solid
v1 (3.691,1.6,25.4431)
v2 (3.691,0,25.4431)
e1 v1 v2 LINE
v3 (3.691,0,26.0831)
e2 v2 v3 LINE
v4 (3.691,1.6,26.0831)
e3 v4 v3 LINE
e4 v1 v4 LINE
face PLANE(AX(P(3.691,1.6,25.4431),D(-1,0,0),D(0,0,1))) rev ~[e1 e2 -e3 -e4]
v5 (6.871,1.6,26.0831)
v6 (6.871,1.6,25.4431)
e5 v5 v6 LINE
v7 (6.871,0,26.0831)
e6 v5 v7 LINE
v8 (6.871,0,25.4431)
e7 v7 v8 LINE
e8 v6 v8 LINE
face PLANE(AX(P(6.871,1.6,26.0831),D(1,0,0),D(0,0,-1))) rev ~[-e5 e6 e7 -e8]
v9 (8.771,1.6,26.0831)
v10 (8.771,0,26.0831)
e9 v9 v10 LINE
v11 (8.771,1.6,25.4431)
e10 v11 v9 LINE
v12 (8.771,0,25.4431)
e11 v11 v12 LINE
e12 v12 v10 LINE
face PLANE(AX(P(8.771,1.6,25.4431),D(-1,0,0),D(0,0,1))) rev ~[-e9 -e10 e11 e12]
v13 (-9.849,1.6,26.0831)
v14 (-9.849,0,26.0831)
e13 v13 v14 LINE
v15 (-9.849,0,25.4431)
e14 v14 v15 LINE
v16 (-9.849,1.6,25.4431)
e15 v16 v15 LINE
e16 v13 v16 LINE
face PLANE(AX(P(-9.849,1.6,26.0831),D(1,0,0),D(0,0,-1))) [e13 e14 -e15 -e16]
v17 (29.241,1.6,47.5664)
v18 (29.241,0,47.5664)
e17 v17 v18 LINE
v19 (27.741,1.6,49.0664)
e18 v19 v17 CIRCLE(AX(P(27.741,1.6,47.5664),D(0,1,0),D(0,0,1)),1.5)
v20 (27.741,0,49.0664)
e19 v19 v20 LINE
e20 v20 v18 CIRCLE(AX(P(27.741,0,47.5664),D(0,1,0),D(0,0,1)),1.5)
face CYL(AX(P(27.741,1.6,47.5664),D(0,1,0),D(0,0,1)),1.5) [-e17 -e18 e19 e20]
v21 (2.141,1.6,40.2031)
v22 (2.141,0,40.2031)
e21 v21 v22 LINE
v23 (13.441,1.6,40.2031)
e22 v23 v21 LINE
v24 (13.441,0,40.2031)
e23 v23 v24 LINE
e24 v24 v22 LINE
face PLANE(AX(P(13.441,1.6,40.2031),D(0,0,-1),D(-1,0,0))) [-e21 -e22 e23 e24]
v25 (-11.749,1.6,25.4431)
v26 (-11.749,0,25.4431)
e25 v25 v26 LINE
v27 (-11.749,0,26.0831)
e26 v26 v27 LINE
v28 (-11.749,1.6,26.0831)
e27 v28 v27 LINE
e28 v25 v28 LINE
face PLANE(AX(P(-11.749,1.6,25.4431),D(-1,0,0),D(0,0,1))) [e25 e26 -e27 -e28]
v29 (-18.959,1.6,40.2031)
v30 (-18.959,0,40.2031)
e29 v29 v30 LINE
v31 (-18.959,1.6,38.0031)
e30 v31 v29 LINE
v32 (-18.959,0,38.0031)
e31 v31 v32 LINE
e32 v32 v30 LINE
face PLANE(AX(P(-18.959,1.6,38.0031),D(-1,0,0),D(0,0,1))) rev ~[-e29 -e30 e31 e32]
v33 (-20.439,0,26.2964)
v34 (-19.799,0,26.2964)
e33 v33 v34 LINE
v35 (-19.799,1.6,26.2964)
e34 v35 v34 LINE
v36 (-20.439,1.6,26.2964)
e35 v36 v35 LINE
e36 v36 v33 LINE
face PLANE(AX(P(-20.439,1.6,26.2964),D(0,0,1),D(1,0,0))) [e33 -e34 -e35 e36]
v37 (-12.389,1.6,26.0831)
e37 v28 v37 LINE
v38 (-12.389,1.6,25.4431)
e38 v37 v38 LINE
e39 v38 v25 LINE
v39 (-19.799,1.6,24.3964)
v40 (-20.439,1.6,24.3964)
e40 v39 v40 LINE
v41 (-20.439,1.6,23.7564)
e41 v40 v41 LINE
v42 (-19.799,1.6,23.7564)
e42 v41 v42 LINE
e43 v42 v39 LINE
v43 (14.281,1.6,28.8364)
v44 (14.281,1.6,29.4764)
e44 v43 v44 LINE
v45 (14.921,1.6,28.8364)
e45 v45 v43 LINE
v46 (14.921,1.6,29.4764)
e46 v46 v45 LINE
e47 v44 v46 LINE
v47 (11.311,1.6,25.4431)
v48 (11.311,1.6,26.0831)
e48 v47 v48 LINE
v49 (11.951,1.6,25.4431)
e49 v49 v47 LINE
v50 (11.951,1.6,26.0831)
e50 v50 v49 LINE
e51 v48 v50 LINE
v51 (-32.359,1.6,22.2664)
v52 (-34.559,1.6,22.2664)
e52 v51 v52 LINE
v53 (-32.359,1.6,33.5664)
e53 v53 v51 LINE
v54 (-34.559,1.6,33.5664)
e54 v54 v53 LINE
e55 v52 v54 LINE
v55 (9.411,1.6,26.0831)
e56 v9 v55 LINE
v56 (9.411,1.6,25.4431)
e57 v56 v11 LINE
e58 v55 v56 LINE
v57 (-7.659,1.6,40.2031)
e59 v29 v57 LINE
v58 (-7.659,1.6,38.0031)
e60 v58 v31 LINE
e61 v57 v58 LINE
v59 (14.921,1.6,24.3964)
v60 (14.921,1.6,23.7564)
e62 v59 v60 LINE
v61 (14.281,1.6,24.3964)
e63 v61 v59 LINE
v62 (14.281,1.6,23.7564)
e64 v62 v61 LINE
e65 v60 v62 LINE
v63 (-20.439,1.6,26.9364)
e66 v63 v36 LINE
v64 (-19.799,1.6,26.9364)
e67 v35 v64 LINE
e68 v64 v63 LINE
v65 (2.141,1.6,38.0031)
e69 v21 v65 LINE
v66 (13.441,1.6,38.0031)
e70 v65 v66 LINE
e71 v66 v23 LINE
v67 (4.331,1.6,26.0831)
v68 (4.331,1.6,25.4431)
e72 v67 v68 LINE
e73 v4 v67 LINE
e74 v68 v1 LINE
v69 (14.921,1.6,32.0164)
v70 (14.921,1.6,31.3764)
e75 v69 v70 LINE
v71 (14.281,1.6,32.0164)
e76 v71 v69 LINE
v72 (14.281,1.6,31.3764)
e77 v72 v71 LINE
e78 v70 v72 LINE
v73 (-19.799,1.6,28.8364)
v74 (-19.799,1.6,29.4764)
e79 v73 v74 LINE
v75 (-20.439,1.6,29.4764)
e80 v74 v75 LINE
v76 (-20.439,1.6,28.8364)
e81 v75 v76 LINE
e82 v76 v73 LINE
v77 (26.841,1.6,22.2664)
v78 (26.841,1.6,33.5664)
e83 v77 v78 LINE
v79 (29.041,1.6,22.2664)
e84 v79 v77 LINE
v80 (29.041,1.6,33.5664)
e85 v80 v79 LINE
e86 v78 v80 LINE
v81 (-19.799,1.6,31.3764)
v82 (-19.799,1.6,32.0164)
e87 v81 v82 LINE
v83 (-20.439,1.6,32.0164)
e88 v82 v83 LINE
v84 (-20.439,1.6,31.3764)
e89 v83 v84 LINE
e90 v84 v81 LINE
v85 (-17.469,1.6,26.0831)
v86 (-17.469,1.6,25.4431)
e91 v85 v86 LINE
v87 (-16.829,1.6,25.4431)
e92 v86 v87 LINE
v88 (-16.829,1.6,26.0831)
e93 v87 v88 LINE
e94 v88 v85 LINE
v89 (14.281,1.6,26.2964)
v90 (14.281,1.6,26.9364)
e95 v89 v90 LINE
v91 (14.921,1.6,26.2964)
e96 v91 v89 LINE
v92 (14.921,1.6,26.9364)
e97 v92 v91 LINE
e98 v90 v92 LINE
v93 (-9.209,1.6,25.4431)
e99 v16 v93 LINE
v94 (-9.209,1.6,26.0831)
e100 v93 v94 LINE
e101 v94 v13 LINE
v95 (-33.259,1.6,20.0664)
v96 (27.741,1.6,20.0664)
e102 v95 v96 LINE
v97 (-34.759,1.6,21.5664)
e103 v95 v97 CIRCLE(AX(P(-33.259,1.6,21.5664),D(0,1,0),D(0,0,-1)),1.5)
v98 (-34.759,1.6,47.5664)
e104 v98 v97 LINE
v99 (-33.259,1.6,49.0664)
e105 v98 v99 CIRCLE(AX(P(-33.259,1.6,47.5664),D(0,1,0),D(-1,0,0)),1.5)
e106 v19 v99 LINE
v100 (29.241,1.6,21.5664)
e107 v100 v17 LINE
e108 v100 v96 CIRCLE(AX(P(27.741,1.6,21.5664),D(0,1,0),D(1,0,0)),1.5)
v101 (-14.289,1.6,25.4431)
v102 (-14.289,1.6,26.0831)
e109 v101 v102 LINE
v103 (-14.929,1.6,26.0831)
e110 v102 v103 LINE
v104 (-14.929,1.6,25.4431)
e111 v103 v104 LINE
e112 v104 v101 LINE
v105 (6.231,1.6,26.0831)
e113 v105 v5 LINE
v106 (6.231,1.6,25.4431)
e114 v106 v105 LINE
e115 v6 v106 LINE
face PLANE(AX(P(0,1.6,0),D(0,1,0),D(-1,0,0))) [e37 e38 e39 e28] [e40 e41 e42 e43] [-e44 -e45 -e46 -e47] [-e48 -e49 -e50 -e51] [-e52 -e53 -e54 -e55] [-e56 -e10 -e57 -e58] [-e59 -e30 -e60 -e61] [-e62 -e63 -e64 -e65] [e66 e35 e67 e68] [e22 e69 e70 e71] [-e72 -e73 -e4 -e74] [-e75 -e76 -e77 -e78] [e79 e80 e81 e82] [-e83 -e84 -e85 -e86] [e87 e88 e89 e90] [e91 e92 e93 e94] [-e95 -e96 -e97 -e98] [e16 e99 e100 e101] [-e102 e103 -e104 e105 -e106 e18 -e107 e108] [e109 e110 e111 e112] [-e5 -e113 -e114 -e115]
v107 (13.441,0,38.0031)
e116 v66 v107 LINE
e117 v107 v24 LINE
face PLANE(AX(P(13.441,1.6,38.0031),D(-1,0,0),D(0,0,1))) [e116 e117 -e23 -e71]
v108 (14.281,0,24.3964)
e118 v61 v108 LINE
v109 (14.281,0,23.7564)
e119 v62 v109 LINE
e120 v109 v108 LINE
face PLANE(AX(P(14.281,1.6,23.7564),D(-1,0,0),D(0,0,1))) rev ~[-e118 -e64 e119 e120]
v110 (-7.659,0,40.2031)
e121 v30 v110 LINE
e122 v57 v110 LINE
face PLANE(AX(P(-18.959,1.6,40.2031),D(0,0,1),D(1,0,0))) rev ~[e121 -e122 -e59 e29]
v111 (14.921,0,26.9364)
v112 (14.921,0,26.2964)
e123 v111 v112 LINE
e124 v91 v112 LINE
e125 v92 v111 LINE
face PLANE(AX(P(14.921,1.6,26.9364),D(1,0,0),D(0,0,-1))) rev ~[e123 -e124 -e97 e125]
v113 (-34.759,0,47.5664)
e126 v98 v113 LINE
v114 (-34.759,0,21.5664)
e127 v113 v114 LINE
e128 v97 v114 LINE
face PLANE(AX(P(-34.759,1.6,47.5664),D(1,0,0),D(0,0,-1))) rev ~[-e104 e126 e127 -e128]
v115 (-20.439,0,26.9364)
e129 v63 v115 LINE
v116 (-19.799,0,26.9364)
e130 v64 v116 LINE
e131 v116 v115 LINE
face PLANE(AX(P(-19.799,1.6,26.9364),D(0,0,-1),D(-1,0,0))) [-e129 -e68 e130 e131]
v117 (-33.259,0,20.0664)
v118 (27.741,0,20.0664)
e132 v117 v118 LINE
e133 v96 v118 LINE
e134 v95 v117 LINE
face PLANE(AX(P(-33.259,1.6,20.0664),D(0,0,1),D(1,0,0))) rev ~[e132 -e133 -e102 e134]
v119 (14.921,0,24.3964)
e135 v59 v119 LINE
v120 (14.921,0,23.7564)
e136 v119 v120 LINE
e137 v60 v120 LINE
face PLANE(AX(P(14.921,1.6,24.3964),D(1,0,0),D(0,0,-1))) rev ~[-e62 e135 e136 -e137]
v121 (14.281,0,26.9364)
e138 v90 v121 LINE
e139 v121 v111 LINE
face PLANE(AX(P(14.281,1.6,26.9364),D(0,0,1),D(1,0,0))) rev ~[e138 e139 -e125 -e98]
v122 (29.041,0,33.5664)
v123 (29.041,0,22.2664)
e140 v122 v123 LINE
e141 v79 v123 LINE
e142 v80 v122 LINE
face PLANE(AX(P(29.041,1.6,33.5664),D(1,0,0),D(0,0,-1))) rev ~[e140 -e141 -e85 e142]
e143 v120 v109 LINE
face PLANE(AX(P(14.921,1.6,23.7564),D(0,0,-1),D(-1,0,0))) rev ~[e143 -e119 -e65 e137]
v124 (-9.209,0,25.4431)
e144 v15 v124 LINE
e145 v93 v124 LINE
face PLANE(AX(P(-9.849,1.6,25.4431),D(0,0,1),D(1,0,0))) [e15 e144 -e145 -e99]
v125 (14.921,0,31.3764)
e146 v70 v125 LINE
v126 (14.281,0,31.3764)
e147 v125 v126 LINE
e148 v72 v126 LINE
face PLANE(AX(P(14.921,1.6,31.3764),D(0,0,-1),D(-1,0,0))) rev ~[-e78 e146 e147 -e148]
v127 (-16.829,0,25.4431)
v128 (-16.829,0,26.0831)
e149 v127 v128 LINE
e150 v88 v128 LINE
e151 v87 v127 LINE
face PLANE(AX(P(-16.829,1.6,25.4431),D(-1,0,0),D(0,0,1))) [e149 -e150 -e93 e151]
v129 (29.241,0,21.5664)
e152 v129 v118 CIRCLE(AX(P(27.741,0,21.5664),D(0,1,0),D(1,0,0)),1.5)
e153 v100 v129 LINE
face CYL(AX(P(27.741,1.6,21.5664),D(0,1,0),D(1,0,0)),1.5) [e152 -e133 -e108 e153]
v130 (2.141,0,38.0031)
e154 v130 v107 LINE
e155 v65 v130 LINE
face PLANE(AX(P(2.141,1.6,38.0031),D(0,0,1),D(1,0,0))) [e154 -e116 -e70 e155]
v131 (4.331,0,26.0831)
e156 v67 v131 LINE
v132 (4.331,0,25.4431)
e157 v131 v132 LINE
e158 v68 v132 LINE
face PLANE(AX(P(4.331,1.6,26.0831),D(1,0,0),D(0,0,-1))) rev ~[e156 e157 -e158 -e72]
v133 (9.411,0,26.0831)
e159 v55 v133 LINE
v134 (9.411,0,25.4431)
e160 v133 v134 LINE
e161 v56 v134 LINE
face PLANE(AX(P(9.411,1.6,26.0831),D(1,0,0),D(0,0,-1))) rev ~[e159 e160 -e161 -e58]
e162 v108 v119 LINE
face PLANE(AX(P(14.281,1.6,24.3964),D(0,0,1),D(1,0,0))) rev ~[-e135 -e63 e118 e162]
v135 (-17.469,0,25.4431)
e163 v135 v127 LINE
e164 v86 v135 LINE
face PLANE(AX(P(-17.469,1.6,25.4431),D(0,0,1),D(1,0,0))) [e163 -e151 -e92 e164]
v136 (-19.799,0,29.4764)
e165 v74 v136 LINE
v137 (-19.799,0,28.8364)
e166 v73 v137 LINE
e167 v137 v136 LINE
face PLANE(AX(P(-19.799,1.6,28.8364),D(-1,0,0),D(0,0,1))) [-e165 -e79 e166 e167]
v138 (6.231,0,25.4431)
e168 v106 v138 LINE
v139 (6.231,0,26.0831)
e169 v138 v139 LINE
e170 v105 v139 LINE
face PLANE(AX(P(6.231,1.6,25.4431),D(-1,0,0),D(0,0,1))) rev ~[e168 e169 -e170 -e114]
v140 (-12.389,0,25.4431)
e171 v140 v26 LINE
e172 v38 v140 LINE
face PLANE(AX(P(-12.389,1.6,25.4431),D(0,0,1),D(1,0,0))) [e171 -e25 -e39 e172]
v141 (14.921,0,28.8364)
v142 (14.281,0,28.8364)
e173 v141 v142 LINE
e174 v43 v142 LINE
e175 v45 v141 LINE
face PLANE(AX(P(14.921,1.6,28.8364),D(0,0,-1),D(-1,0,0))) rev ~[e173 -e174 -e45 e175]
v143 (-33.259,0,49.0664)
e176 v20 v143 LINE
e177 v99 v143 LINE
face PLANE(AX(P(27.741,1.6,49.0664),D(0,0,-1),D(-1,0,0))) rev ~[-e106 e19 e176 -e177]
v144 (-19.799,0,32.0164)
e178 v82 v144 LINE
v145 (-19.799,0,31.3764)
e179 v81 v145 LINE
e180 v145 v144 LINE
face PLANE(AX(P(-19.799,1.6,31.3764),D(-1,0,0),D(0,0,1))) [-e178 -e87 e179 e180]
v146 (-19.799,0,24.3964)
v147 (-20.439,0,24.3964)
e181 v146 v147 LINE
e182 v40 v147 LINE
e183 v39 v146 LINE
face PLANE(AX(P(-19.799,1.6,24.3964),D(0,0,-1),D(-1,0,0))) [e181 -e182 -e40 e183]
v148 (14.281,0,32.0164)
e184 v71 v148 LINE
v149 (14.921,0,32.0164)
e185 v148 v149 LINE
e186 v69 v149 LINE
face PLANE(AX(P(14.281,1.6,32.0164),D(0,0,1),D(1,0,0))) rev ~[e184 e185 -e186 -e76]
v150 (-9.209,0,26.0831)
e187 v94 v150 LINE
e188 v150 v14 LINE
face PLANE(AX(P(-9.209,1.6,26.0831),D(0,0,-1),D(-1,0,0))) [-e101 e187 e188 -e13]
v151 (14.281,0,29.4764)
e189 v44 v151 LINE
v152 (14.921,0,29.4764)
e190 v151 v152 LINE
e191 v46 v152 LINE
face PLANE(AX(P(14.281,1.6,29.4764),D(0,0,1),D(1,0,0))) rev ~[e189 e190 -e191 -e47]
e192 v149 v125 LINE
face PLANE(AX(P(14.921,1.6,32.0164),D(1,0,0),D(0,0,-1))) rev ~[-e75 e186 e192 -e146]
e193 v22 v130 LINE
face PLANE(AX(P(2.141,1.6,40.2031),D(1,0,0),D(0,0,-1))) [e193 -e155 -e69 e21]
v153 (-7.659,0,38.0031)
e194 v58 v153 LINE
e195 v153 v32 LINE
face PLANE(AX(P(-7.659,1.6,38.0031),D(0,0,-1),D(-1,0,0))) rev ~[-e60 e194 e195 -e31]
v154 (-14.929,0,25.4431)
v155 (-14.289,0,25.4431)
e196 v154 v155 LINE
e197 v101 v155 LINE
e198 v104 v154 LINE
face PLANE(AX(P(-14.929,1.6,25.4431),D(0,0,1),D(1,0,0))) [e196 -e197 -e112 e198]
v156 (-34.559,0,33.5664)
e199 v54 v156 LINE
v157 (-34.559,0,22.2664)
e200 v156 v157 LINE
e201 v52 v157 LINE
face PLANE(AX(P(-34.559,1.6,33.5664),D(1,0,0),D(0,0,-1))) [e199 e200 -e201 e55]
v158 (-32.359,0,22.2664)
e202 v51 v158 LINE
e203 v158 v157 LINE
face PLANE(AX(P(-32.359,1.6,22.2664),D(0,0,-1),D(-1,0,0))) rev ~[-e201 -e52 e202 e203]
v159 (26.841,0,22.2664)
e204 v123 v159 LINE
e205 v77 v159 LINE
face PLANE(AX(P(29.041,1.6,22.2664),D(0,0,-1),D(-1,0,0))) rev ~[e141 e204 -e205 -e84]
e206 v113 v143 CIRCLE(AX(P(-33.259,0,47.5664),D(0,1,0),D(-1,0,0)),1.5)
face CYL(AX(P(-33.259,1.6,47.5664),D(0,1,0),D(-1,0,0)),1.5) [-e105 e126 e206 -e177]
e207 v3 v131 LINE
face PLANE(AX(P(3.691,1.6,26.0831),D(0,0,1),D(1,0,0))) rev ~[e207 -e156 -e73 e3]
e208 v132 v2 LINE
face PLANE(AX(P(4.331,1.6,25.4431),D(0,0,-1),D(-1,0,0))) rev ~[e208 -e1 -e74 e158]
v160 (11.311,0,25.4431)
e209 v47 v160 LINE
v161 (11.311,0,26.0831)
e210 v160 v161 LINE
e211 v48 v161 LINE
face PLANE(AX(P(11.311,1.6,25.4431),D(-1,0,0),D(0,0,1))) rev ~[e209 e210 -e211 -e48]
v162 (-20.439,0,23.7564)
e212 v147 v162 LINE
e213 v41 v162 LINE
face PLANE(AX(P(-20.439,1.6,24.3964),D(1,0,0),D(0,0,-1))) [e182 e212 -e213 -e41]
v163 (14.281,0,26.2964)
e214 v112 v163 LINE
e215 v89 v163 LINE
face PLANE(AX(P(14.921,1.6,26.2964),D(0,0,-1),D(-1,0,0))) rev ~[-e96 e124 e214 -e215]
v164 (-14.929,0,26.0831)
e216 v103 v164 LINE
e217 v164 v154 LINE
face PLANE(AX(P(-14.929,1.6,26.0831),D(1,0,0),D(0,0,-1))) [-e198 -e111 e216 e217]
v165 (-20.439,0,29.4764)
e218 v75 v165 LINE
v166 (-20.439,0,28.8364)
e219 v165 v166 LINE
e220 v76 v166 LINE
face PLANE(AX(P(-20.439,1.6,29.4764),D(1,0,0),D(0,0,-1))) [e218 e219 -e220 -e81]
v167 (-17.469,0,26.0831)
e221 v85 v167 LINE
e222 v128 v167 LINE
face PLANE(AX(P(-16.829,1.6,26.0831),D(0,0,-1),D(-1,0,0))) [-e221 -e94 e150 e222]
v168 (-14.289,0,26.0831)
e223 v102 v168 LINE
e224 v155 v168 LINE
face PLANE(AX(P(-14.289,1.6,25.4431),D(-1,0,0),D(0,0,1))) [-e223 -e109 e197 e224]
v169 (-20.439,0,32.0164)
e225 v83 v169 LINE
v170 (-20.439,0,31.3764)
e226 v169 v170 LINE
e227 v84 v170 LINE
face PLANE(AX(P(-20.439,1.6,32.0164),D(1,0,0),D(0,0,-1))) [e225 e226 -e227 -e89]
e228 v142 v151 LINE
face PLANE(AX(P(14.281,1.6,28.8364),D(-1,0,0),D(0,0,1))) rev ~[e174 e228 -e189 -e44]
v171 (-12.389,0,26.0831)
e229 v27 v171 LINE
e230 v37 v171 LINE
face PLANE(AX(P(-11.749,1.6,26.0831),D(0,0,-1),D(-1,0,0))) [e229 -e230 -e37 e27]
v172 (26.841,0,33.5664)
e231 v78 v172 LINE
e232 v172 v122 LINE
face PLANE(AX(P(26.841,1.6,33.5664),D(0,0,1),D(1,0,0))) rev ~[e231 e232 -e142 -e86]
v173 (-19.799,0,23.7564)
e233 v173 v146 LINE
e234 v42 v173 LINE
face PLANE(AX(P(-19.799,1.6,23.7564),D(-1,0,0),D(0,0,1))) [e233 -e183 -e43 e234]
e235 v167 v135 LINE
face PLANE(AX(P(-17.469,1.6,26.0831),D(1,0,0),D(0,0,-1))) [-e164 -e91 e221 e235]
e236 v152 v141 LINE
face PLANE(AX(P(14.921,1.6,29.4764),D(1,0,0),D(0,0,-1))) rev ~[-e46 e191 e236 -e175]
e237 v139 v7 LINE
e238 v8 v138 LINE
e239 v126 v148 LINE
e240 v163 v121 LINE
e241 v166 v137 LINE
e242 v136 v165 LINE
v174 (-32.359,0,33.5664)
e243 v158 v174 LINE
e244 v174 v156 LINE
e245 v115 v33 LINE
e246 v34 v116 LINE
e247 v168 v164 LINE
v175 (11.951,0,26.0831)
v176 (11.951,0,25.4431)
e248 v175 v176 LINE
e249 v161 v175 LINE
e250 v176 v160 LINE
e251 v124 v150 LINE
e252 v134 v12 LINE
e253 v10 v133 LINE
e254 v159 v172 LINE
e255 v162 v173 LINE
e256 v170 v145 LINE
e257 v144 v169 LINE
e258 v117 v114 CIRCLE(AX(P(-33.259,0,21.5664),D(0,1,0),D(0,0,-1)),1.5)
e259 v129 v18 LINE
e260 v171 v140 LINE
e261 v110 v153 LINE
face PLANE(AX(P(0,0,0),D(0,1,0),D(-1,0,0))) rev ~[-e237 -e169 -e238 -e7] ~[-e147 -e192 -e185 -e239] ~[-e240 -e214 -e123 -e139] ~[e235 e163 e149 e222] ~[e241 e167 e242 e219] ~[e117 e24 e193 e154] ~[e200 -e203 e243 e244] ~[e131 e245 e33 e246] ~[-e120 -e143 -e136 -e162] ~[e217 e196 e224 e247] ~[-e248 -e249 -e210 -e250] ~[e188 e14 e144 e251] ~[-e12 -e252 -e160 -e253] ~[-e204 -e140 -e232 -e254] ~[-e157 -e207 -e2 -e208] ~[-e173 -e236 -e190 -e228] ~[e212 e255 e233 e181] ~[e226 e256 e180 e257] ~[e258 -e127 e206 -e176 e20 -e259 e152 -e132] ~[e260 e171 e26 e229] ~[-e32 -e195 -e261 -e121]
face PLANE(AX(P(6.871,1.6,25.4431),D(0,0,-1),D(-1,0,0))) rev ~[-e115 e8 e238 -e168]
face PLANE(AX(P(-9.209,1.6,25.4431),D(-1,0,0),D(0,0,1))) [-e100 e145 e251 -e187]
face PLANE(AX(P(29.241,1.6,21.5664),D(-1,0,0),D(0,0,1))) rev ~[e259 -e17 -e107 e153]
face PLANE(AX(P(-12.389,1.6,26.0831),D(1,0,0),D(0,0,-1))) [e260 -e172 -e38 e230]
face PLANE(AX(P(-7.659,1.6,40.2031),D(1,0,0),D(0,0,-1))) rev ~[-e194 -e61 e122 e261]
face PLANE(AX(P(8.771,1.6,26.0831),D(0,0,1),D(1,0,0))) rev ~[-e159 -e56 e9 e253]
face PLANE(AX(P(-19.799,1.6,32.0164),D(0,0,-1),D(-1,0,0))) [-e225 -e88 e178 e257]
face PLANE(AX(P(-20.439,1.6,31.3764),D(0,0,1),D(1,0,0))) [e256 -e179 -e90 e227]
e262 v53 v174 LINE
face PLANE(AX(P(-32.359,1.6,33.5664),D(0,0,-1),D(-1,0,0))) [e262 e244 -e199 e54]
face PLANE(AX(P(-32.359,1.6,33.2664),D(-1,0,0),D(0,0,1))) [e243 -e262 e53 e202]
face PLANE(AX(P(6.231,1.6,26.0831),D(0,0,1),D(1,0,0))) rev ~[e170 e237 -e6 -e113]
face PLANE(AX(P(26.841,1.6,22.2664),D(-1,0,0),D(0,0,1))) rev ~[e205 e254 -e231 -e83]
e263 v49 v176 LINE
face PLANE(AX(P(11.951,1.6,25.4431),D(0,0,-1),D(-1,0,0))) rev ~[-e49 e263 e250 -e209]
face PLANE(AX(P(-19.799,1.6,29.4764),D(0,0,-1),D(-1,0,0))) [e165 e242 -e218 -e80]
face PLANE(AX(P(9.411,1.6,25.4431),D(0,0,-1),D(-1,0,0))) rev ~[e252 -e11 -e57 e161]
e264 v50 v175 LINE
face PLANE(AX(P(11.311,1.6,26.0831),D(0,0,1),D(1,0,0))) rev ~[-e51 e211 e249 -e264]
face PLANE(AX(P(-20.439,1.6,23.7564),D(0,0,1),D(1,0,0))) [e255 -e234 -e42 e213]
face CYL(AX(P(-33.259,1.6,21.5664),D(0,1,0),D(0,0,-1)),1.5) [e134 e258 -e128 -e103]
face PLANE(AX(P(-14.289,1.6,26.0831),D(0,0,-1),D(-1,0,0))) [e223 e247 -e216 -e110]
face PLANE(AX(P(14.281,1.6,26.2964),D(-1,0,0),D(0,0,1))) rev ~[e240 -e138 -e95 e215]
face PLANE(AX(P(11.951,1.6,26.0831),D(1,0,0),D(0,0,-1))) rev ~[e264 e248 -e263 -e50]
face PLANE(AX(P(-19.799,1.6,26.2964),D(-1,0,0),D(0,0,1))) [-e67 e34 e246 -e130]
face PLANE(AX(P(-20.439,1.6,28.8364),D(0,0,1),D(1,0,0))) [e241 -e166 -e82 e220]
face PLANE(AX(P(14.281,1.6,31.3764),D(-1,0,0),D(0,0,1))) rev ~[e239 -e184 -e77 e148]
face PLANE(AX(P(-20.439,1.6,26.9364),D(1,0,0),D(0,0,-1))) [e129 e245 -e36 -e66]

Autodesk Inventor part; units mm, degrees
ref_plane "YZ Plane" through (0, 0, 0) normal (1, 0, 0) x (0, 1, 0)
ref_plane "XZ Plane" through (0, 0, 0) normal (0, 1, 0) x (-1, 0, 0)
ref_plane "XY Plane" through (0, 0, 0) normal (0, 0, 1) x (1, 0, 0)
sketch "Szkic1" plane through (0, 0, 0) normal (0, 1, 0) x (-1, 0, 0)
  line L0 (35.259, 49.5664) -> (-29.741, 49.5664)
  line L1 (-29.741, 49.5664) -> (-29.741, 19.5664)
  line L2 (-29.741, 19.5664) -> (35.259, 19.5664)
  line L3 (35.259, 19.5664) -> (35.259, 49.5664)
  point P0 (0, 0)
  dimension "d0" = 65
  dimension "d1" = 30
extrude "Wyciągnięcie proste1" add sketch "Szkic1" along normal blind 1.6
fillet "Zaokrąglenie1" radius 2 4 edges at (-35.259, 0.8, 19.5664) (-35.259, 0.8, 49.5664) (29.741, 0.8, 49.5664) (29.741, 0.8, 19.5664)
sketch "Szkic2" plane through (0, 1.6, 0) normal (0, 1, 0) x (1, 0, 0)
  arc A0 (29.741, -21.5664) -> (27.741, -19.5664) centre (27.741, -21.5664) ccw projected
  line L0 (27.741, -19.5664) -> (-33.259, -19.5664) projected
  arc A1 (-33.259, -19.5664) -> (-35.259, -21.5664) centre (-33.259, -21.5664) ccw projected
  line L1 (-35.259, -21.5664) -> (-35.259, -47.5664) projected
  arc A2 (-35.259, -47.5664) -> (-33.259, -49.5664) centre (-33.259, -47.5664) ccw projected
  line L2 (-33.259, -49.5664) -> (27.741, -49.5664) projected
  arc A3 (27.741, -49.5664) -> (29.741, -47.5664) centre (27.741, -47.5664) ccw projected
  line L3 (29.741, -47.5664) -> (29.741, -21.5664) projected
  line L4 (-33.259, -20.0664) -> (27.741, -20.0664)
  arc A4 (29.241, -21.5664) -> (27.741, -20.0664) centre (27.741, -21.5664) ccw
  line L5 (29.241, -21.5664) -> (29.241, -47.5664)
  arc A5 (27.741, -49.0664) -> (29.241, -47.5664) centre (27.741, -47.5664) ccw
  line L6 (27.741, -49.0664) -> (-33.259, -49.0664)
  arc A6 (-34.759, -47.5664) -> (-33.259, -49.0664) centre (-33.259, -47.5664) ccw
  line L7 (-34.759, -47.5664) -> (-34.759, -21.5664)
  arc A7 (-33.259, -20.0664) -> (-34.759, -21.5664) centre (-33.259, -21.5664) ccw
  point P0 (0, 0)
  dimension "d5" = 0.5
extrude "Wyciągnięcie proste2" cut sketch "Szkic2" against normal through all
sketch "Szkic3" plane through (0, 1.6, 0) normal (0, 1, 0) x (1, 0, 0)
  line L0 (-19.799, -32.0164) -> (-20.439, -32.0164) projected
  line L1 (-20.439, -32.0164) -> (-20.439, -31.3764) projected
  line L2 (-19.799, -31.3764) -> (-19.799, -32.0164) projected
  line L3 (-20.439, -31.3764) -> (-19.799, -31.3764) projected
  line L4 (-19.799, -29.4764) -> (-20.439, -29.4764) projected
  line L5 (-19.799, -28.8364) -> (-19.799, -29.4764) projected
  line L6 (-20.439, -29.4764) -> (-20.439, -28.8364) projected
  line L7 (-20.439, -28.8364) -> (-19.799, -28.8364) projected
  line L8 (-19.799, -26.9364) -> (-20.439, -26.9364) projected
  line L9 (-19.799, -26.2964) -> (-19.799, -26.9364) projected
  line L10 (-20.439, -26.9364) -> (-20.439, -26.2964) projected
  line L11 (-20.439, -26.2964) -> (-19.799, -26.2964) projected
  line L12 (-20.439, -24.3964) -> (-20.439, -23.7564) projected
  line L13 (-19.799, -24.3964) -> (-20.439, -24.3964) projected
  line L14 (-20.439, -23.7564) -> (-19.799, -23.7564) projected
  line L15 (-19.799, -23.7564) -> (-19.799, -24.3964) projected
  line L16 (-17.469, -25.4431) -> (-16.829, -25.4431) projected
  line L17 (-17.469, -26.0831) -> (-17.469, -25.4431) projected
  line L18 (-16.829, -26.0831) -> (-17.469, -26.0831) projected
  line L19 (-16.829, -25.4431) -> (-16.829, -26.0831) projected
  line L20 (-14.929, -26.0831) -> (-14.929, -25.4431) projected
  line L21 (-14.289, -26.0831) -> (-14.929, -26.0831) projected
  line L22 (-14.929, -25.4431) -> (-14.289, -25.4431) projected
  line L23 (-14.289, -25.4431) -> (-14.289, -26.0831) projected
  line L24 (-12.389, -26.0831) -> (-12.389, -25.4431) projected
  line L25 (-11.749, -26.0831) -> (-12.389, -26.0831) projected
  line L26 (-12.389, -25.4431) -> (-11.749, -25.4431) projected
  line L27 (-11.749, -25.4431) -> (-11.749, -26.0831) projected
  line L28 (-9.849, -26.0831) -> (-9.849, -25.4431) projected
  line L29 (-9.209, -25.4431) -> (-9.209, -26.0831) projected
  line L30 (-9.849, -25.4431) -> (-9.209, -25.4431) projected
  line L31 (-9.209, -26.0831) -> (-9.849, -26.0831) projected
  line L32 (-2.759, -11.5664) -> (-2.759, -67.5664)
  line L33 (-34.259, -33.2664) -> (-32.659, -33.2664) projected
  line L34 (-34.259, -33.2664) -> (-34.259, -22.5664) projected
  line L35 (-34.259, -22.5664) -> (-32.659, -22.5664) projected
  line L36 (-32.659, -22.5664) -> (-32.659, -33.2664) projected
  line L37 (-34.259, -33.2664) -> (-32.659, -33.2664) projected
  line L38 (-7.959, -39.9031) -> (-18.659, -39.9031) projected
  line L39 (-18.659, -39.9031) -> (-18.659, -38.3031) projected
  line L40 (-18.659, -38.3031) -> (-7.959, -38.3031) projected
  line L41 (-7.959, -39.9031) -> (-7.959, -38.3031) projected
  line L42 (2.441, -39.9031) -> (13.141, -39.9031) projected
  line L43 (2.441, -39.9031) -> (2.441, -38.3031) projected
  line L44 (13.141, -38.3031) -> (2.441, -38.3031) projected
  line L45 (13.141, -39.9031) -> (13.141, -38.3031) projected
  line L46 (28.741, -33.2664) -> (28.741, -22.5664) projected
  line L47 (28.741, -33.2664) -> (27.141, -33.2664) projected
  line L48 (27.141, -22.5664) -> (27.141, -33.2664) projected
  line L49 (28.741, -22.5664) -> (27.141, -22.5664) projected
  line L50 (14.281, -32.0164) -> (14.921, -32.0164)
  line L51 (14.921, -32.0164) -> (14.921, -31.3764)
  line L52 (14.281, -31.3764) -> (14.281, -32.0164)
  line L53 (14.921, -31.3764) -> (14.281, -31.3764)
  line L54 (14.281, -29.4764) -> (14.921, -29.4764)
  line L55 (14.281, -28.8364) -> (14.281, -29.4764)
  line L56 (14.921, -29.4764) -> (14.921, -28.8364)
  line L57 (14.921, -28.8364) -> (14.281, -28.8364)
  line L58 (14.281, -26.9364) -> (14.921, -26.9364)
  line L59 (14.281, -26.2964) -> (14.281, -26.9364)
  line L60 (14.921, -26.9364) -> (14.921, -26.2964)
  line L61 (14.921, -26.2964) -> (14.281, -26.2964)
  line L62 (14.921, -24.3964) -> (14.921, -23.7564)
  line L63 (14.281, -24.3964) -> (14.921, -24.3964)
  line L64 (14.921, -23.7564) -> (14.281, -23.7564)
  line L65 (14.281, -23.7564) -> (14.281, -24.3964)
  line L66 (11.951, -25.4431) -> (11.311, -25.4431)
  line L67 (11.951, -26.0831) -> (11.951, -25.4431)
  line L68 (11.311, -26.0831) -> (11.951, -26.0831)
  line L69 (11.311, -25.4431) -> (11.311, -26.0831)
  line L70 (9.411, -26.0831) -> (9.411, -25.4431)
  line L71 (8.771, -26.0831) -> (9.411, -26.0831)
  line L72 (9.411, -25.4431) -> (8.771, -25.4431)
  line L73 (8.771, -25.4431) -> (8.771, -26.0831)
  line L74 (6.871, -26.0831) -> (6.871, -25.4431)
  line L75 (6.231, -26.0831) -> (6.871, -26.0831)
  line L76 (6.871, -25.4431) -> (6.231, -25.4431)
  line L77 (6.231, -25.4431) -> (6.231, -26.0831)
  line L78 (4.331, -26.0831) -> (4.331, -25.4431)
  line L79 (3.691, -25.4431) -> (3.691, -26.0831)
  line L80 (4.331, -25.4431) -> (3.691, -25.4431)
  line L81 (3.691, -26.0831) -> (4.331, -26.0831)
  arc A0 (-33.259, -20.0664) -> (-34.759, -21.5664) centre (-33.259, -21.5664) ccw projected
  line L82 (-34.759, -21.5664) -> (-34.759, -47.5664) projected
  arc A1 (-34.759, -47.5664) -> (-33.259, -49.0664) centre (-33.259, -47.5664) ccw projected
  line L83 (-33.259, -49.0664) -> (27.741, -49.0664) projected
  arc A2 (27.741, -49.0664) -> (29.241, -47.5664) centre (27.741, -47.5664) ccw projected
  line L84 (29.241, -47.5664) -> (29.241, -21.5664) projected
  arc A3 (29.241, -21.5664) -> (27.741, -20.0664) centre (27.741, -21.5664) ccw projected
  line L85 (27.741, -20.0664) -> (-33.259, -20.0664) projected
  line L86 (-32.359, -33.2664) -> (-32.359, -22.2664)
  line L87 (-32.359, -22.2664) -> (-34.559, -22.2664)
  line L88 (-34.559, -22.2664) -> (-34.559, -33.2664)
  line L89 (-34.259, -33.5664) -> (-32.659, -33.5664)
  line L90 (-34.559, -22.2664) -> (-32.359, -22.2664)
  line L91 (-32.359, -22.2664) -> (-32.359, -33.5664)
  line L92 (-32.359, -33.5664) -> (-34.559, -33.5664)
  line L93 (-34.559, -33.5664) -> (-34.559, -22.2664)
  line L94 (-18.959, -40.2031) -> (-7.659, -40.2031)
  line L95 (-7.659, -40.2031) -> (-7.659, -38.0031)
  line L96 (-7.659, -38.0031) -> (-18.959, -38.0031)
  line L97 (-18.959, -38.0031) -> (-18.959, -40.2031)
  line L98 (13.441, -40.2031) -> (2.141, -40.2031)
  line L99 (2.141, -40.2031) -> (2.141, -38.0031)
  line L100 (2.141, -38.0031) -> (13.441, -38.0031)
  line L101 (13.441, -38.0031) -> (13.441, -40.2031)
  line L102 (26.841, -33.5664) -> (29.041, -33.5664)
  line L103 (29.041, -33.5664) -> (29.041, -22.2664)
  line L104 (29.041, -22.2664) -> (26.841, -22.2664)
  line L105 (26.841, -22.2664) -> (26.841, -33.5664)
  point P0 (0, 0)
  dimension "d8" = 0.3
  dimension "d9" = 0.3
  dimension "d10" = 0.3
  dimension "d11" = 0.3
  dimension "d12" = 0.3
extrude "Wyciągnięcie proste3" cut sketch "Szkic3" against normal through all contours L0 L1 L3 L2 | L4 L6 L7 L5 | L8 L10 L11 L9 | L12 L14 L15 L13 | L16 L19 L18 L17 | L20 L22 L23 L21 | L24 L26 L27 L25 | L28 L30 L29 L31 | L34 L35 L36 L33 | L38 L39 L40 L41 | L43 L44 L45 L42 | L47 L48 L49 L46 | L52 L53 L51 L50 | L55 L57 L56 L54 | L59 L61 L60 L58 | L63 L65 L64 L62 | L67 L68 L69 L66 | L71 L73 L72 L70 | L75 L77 L76 L74 | L81 L79 L80 L78 | L91 L92 L89 L93 L88 L87 L86 | L97 L96 L95 L94 | L98 L99 L100 L101 | L105 L104 L103 L102
properties part number "MS_PCB"
